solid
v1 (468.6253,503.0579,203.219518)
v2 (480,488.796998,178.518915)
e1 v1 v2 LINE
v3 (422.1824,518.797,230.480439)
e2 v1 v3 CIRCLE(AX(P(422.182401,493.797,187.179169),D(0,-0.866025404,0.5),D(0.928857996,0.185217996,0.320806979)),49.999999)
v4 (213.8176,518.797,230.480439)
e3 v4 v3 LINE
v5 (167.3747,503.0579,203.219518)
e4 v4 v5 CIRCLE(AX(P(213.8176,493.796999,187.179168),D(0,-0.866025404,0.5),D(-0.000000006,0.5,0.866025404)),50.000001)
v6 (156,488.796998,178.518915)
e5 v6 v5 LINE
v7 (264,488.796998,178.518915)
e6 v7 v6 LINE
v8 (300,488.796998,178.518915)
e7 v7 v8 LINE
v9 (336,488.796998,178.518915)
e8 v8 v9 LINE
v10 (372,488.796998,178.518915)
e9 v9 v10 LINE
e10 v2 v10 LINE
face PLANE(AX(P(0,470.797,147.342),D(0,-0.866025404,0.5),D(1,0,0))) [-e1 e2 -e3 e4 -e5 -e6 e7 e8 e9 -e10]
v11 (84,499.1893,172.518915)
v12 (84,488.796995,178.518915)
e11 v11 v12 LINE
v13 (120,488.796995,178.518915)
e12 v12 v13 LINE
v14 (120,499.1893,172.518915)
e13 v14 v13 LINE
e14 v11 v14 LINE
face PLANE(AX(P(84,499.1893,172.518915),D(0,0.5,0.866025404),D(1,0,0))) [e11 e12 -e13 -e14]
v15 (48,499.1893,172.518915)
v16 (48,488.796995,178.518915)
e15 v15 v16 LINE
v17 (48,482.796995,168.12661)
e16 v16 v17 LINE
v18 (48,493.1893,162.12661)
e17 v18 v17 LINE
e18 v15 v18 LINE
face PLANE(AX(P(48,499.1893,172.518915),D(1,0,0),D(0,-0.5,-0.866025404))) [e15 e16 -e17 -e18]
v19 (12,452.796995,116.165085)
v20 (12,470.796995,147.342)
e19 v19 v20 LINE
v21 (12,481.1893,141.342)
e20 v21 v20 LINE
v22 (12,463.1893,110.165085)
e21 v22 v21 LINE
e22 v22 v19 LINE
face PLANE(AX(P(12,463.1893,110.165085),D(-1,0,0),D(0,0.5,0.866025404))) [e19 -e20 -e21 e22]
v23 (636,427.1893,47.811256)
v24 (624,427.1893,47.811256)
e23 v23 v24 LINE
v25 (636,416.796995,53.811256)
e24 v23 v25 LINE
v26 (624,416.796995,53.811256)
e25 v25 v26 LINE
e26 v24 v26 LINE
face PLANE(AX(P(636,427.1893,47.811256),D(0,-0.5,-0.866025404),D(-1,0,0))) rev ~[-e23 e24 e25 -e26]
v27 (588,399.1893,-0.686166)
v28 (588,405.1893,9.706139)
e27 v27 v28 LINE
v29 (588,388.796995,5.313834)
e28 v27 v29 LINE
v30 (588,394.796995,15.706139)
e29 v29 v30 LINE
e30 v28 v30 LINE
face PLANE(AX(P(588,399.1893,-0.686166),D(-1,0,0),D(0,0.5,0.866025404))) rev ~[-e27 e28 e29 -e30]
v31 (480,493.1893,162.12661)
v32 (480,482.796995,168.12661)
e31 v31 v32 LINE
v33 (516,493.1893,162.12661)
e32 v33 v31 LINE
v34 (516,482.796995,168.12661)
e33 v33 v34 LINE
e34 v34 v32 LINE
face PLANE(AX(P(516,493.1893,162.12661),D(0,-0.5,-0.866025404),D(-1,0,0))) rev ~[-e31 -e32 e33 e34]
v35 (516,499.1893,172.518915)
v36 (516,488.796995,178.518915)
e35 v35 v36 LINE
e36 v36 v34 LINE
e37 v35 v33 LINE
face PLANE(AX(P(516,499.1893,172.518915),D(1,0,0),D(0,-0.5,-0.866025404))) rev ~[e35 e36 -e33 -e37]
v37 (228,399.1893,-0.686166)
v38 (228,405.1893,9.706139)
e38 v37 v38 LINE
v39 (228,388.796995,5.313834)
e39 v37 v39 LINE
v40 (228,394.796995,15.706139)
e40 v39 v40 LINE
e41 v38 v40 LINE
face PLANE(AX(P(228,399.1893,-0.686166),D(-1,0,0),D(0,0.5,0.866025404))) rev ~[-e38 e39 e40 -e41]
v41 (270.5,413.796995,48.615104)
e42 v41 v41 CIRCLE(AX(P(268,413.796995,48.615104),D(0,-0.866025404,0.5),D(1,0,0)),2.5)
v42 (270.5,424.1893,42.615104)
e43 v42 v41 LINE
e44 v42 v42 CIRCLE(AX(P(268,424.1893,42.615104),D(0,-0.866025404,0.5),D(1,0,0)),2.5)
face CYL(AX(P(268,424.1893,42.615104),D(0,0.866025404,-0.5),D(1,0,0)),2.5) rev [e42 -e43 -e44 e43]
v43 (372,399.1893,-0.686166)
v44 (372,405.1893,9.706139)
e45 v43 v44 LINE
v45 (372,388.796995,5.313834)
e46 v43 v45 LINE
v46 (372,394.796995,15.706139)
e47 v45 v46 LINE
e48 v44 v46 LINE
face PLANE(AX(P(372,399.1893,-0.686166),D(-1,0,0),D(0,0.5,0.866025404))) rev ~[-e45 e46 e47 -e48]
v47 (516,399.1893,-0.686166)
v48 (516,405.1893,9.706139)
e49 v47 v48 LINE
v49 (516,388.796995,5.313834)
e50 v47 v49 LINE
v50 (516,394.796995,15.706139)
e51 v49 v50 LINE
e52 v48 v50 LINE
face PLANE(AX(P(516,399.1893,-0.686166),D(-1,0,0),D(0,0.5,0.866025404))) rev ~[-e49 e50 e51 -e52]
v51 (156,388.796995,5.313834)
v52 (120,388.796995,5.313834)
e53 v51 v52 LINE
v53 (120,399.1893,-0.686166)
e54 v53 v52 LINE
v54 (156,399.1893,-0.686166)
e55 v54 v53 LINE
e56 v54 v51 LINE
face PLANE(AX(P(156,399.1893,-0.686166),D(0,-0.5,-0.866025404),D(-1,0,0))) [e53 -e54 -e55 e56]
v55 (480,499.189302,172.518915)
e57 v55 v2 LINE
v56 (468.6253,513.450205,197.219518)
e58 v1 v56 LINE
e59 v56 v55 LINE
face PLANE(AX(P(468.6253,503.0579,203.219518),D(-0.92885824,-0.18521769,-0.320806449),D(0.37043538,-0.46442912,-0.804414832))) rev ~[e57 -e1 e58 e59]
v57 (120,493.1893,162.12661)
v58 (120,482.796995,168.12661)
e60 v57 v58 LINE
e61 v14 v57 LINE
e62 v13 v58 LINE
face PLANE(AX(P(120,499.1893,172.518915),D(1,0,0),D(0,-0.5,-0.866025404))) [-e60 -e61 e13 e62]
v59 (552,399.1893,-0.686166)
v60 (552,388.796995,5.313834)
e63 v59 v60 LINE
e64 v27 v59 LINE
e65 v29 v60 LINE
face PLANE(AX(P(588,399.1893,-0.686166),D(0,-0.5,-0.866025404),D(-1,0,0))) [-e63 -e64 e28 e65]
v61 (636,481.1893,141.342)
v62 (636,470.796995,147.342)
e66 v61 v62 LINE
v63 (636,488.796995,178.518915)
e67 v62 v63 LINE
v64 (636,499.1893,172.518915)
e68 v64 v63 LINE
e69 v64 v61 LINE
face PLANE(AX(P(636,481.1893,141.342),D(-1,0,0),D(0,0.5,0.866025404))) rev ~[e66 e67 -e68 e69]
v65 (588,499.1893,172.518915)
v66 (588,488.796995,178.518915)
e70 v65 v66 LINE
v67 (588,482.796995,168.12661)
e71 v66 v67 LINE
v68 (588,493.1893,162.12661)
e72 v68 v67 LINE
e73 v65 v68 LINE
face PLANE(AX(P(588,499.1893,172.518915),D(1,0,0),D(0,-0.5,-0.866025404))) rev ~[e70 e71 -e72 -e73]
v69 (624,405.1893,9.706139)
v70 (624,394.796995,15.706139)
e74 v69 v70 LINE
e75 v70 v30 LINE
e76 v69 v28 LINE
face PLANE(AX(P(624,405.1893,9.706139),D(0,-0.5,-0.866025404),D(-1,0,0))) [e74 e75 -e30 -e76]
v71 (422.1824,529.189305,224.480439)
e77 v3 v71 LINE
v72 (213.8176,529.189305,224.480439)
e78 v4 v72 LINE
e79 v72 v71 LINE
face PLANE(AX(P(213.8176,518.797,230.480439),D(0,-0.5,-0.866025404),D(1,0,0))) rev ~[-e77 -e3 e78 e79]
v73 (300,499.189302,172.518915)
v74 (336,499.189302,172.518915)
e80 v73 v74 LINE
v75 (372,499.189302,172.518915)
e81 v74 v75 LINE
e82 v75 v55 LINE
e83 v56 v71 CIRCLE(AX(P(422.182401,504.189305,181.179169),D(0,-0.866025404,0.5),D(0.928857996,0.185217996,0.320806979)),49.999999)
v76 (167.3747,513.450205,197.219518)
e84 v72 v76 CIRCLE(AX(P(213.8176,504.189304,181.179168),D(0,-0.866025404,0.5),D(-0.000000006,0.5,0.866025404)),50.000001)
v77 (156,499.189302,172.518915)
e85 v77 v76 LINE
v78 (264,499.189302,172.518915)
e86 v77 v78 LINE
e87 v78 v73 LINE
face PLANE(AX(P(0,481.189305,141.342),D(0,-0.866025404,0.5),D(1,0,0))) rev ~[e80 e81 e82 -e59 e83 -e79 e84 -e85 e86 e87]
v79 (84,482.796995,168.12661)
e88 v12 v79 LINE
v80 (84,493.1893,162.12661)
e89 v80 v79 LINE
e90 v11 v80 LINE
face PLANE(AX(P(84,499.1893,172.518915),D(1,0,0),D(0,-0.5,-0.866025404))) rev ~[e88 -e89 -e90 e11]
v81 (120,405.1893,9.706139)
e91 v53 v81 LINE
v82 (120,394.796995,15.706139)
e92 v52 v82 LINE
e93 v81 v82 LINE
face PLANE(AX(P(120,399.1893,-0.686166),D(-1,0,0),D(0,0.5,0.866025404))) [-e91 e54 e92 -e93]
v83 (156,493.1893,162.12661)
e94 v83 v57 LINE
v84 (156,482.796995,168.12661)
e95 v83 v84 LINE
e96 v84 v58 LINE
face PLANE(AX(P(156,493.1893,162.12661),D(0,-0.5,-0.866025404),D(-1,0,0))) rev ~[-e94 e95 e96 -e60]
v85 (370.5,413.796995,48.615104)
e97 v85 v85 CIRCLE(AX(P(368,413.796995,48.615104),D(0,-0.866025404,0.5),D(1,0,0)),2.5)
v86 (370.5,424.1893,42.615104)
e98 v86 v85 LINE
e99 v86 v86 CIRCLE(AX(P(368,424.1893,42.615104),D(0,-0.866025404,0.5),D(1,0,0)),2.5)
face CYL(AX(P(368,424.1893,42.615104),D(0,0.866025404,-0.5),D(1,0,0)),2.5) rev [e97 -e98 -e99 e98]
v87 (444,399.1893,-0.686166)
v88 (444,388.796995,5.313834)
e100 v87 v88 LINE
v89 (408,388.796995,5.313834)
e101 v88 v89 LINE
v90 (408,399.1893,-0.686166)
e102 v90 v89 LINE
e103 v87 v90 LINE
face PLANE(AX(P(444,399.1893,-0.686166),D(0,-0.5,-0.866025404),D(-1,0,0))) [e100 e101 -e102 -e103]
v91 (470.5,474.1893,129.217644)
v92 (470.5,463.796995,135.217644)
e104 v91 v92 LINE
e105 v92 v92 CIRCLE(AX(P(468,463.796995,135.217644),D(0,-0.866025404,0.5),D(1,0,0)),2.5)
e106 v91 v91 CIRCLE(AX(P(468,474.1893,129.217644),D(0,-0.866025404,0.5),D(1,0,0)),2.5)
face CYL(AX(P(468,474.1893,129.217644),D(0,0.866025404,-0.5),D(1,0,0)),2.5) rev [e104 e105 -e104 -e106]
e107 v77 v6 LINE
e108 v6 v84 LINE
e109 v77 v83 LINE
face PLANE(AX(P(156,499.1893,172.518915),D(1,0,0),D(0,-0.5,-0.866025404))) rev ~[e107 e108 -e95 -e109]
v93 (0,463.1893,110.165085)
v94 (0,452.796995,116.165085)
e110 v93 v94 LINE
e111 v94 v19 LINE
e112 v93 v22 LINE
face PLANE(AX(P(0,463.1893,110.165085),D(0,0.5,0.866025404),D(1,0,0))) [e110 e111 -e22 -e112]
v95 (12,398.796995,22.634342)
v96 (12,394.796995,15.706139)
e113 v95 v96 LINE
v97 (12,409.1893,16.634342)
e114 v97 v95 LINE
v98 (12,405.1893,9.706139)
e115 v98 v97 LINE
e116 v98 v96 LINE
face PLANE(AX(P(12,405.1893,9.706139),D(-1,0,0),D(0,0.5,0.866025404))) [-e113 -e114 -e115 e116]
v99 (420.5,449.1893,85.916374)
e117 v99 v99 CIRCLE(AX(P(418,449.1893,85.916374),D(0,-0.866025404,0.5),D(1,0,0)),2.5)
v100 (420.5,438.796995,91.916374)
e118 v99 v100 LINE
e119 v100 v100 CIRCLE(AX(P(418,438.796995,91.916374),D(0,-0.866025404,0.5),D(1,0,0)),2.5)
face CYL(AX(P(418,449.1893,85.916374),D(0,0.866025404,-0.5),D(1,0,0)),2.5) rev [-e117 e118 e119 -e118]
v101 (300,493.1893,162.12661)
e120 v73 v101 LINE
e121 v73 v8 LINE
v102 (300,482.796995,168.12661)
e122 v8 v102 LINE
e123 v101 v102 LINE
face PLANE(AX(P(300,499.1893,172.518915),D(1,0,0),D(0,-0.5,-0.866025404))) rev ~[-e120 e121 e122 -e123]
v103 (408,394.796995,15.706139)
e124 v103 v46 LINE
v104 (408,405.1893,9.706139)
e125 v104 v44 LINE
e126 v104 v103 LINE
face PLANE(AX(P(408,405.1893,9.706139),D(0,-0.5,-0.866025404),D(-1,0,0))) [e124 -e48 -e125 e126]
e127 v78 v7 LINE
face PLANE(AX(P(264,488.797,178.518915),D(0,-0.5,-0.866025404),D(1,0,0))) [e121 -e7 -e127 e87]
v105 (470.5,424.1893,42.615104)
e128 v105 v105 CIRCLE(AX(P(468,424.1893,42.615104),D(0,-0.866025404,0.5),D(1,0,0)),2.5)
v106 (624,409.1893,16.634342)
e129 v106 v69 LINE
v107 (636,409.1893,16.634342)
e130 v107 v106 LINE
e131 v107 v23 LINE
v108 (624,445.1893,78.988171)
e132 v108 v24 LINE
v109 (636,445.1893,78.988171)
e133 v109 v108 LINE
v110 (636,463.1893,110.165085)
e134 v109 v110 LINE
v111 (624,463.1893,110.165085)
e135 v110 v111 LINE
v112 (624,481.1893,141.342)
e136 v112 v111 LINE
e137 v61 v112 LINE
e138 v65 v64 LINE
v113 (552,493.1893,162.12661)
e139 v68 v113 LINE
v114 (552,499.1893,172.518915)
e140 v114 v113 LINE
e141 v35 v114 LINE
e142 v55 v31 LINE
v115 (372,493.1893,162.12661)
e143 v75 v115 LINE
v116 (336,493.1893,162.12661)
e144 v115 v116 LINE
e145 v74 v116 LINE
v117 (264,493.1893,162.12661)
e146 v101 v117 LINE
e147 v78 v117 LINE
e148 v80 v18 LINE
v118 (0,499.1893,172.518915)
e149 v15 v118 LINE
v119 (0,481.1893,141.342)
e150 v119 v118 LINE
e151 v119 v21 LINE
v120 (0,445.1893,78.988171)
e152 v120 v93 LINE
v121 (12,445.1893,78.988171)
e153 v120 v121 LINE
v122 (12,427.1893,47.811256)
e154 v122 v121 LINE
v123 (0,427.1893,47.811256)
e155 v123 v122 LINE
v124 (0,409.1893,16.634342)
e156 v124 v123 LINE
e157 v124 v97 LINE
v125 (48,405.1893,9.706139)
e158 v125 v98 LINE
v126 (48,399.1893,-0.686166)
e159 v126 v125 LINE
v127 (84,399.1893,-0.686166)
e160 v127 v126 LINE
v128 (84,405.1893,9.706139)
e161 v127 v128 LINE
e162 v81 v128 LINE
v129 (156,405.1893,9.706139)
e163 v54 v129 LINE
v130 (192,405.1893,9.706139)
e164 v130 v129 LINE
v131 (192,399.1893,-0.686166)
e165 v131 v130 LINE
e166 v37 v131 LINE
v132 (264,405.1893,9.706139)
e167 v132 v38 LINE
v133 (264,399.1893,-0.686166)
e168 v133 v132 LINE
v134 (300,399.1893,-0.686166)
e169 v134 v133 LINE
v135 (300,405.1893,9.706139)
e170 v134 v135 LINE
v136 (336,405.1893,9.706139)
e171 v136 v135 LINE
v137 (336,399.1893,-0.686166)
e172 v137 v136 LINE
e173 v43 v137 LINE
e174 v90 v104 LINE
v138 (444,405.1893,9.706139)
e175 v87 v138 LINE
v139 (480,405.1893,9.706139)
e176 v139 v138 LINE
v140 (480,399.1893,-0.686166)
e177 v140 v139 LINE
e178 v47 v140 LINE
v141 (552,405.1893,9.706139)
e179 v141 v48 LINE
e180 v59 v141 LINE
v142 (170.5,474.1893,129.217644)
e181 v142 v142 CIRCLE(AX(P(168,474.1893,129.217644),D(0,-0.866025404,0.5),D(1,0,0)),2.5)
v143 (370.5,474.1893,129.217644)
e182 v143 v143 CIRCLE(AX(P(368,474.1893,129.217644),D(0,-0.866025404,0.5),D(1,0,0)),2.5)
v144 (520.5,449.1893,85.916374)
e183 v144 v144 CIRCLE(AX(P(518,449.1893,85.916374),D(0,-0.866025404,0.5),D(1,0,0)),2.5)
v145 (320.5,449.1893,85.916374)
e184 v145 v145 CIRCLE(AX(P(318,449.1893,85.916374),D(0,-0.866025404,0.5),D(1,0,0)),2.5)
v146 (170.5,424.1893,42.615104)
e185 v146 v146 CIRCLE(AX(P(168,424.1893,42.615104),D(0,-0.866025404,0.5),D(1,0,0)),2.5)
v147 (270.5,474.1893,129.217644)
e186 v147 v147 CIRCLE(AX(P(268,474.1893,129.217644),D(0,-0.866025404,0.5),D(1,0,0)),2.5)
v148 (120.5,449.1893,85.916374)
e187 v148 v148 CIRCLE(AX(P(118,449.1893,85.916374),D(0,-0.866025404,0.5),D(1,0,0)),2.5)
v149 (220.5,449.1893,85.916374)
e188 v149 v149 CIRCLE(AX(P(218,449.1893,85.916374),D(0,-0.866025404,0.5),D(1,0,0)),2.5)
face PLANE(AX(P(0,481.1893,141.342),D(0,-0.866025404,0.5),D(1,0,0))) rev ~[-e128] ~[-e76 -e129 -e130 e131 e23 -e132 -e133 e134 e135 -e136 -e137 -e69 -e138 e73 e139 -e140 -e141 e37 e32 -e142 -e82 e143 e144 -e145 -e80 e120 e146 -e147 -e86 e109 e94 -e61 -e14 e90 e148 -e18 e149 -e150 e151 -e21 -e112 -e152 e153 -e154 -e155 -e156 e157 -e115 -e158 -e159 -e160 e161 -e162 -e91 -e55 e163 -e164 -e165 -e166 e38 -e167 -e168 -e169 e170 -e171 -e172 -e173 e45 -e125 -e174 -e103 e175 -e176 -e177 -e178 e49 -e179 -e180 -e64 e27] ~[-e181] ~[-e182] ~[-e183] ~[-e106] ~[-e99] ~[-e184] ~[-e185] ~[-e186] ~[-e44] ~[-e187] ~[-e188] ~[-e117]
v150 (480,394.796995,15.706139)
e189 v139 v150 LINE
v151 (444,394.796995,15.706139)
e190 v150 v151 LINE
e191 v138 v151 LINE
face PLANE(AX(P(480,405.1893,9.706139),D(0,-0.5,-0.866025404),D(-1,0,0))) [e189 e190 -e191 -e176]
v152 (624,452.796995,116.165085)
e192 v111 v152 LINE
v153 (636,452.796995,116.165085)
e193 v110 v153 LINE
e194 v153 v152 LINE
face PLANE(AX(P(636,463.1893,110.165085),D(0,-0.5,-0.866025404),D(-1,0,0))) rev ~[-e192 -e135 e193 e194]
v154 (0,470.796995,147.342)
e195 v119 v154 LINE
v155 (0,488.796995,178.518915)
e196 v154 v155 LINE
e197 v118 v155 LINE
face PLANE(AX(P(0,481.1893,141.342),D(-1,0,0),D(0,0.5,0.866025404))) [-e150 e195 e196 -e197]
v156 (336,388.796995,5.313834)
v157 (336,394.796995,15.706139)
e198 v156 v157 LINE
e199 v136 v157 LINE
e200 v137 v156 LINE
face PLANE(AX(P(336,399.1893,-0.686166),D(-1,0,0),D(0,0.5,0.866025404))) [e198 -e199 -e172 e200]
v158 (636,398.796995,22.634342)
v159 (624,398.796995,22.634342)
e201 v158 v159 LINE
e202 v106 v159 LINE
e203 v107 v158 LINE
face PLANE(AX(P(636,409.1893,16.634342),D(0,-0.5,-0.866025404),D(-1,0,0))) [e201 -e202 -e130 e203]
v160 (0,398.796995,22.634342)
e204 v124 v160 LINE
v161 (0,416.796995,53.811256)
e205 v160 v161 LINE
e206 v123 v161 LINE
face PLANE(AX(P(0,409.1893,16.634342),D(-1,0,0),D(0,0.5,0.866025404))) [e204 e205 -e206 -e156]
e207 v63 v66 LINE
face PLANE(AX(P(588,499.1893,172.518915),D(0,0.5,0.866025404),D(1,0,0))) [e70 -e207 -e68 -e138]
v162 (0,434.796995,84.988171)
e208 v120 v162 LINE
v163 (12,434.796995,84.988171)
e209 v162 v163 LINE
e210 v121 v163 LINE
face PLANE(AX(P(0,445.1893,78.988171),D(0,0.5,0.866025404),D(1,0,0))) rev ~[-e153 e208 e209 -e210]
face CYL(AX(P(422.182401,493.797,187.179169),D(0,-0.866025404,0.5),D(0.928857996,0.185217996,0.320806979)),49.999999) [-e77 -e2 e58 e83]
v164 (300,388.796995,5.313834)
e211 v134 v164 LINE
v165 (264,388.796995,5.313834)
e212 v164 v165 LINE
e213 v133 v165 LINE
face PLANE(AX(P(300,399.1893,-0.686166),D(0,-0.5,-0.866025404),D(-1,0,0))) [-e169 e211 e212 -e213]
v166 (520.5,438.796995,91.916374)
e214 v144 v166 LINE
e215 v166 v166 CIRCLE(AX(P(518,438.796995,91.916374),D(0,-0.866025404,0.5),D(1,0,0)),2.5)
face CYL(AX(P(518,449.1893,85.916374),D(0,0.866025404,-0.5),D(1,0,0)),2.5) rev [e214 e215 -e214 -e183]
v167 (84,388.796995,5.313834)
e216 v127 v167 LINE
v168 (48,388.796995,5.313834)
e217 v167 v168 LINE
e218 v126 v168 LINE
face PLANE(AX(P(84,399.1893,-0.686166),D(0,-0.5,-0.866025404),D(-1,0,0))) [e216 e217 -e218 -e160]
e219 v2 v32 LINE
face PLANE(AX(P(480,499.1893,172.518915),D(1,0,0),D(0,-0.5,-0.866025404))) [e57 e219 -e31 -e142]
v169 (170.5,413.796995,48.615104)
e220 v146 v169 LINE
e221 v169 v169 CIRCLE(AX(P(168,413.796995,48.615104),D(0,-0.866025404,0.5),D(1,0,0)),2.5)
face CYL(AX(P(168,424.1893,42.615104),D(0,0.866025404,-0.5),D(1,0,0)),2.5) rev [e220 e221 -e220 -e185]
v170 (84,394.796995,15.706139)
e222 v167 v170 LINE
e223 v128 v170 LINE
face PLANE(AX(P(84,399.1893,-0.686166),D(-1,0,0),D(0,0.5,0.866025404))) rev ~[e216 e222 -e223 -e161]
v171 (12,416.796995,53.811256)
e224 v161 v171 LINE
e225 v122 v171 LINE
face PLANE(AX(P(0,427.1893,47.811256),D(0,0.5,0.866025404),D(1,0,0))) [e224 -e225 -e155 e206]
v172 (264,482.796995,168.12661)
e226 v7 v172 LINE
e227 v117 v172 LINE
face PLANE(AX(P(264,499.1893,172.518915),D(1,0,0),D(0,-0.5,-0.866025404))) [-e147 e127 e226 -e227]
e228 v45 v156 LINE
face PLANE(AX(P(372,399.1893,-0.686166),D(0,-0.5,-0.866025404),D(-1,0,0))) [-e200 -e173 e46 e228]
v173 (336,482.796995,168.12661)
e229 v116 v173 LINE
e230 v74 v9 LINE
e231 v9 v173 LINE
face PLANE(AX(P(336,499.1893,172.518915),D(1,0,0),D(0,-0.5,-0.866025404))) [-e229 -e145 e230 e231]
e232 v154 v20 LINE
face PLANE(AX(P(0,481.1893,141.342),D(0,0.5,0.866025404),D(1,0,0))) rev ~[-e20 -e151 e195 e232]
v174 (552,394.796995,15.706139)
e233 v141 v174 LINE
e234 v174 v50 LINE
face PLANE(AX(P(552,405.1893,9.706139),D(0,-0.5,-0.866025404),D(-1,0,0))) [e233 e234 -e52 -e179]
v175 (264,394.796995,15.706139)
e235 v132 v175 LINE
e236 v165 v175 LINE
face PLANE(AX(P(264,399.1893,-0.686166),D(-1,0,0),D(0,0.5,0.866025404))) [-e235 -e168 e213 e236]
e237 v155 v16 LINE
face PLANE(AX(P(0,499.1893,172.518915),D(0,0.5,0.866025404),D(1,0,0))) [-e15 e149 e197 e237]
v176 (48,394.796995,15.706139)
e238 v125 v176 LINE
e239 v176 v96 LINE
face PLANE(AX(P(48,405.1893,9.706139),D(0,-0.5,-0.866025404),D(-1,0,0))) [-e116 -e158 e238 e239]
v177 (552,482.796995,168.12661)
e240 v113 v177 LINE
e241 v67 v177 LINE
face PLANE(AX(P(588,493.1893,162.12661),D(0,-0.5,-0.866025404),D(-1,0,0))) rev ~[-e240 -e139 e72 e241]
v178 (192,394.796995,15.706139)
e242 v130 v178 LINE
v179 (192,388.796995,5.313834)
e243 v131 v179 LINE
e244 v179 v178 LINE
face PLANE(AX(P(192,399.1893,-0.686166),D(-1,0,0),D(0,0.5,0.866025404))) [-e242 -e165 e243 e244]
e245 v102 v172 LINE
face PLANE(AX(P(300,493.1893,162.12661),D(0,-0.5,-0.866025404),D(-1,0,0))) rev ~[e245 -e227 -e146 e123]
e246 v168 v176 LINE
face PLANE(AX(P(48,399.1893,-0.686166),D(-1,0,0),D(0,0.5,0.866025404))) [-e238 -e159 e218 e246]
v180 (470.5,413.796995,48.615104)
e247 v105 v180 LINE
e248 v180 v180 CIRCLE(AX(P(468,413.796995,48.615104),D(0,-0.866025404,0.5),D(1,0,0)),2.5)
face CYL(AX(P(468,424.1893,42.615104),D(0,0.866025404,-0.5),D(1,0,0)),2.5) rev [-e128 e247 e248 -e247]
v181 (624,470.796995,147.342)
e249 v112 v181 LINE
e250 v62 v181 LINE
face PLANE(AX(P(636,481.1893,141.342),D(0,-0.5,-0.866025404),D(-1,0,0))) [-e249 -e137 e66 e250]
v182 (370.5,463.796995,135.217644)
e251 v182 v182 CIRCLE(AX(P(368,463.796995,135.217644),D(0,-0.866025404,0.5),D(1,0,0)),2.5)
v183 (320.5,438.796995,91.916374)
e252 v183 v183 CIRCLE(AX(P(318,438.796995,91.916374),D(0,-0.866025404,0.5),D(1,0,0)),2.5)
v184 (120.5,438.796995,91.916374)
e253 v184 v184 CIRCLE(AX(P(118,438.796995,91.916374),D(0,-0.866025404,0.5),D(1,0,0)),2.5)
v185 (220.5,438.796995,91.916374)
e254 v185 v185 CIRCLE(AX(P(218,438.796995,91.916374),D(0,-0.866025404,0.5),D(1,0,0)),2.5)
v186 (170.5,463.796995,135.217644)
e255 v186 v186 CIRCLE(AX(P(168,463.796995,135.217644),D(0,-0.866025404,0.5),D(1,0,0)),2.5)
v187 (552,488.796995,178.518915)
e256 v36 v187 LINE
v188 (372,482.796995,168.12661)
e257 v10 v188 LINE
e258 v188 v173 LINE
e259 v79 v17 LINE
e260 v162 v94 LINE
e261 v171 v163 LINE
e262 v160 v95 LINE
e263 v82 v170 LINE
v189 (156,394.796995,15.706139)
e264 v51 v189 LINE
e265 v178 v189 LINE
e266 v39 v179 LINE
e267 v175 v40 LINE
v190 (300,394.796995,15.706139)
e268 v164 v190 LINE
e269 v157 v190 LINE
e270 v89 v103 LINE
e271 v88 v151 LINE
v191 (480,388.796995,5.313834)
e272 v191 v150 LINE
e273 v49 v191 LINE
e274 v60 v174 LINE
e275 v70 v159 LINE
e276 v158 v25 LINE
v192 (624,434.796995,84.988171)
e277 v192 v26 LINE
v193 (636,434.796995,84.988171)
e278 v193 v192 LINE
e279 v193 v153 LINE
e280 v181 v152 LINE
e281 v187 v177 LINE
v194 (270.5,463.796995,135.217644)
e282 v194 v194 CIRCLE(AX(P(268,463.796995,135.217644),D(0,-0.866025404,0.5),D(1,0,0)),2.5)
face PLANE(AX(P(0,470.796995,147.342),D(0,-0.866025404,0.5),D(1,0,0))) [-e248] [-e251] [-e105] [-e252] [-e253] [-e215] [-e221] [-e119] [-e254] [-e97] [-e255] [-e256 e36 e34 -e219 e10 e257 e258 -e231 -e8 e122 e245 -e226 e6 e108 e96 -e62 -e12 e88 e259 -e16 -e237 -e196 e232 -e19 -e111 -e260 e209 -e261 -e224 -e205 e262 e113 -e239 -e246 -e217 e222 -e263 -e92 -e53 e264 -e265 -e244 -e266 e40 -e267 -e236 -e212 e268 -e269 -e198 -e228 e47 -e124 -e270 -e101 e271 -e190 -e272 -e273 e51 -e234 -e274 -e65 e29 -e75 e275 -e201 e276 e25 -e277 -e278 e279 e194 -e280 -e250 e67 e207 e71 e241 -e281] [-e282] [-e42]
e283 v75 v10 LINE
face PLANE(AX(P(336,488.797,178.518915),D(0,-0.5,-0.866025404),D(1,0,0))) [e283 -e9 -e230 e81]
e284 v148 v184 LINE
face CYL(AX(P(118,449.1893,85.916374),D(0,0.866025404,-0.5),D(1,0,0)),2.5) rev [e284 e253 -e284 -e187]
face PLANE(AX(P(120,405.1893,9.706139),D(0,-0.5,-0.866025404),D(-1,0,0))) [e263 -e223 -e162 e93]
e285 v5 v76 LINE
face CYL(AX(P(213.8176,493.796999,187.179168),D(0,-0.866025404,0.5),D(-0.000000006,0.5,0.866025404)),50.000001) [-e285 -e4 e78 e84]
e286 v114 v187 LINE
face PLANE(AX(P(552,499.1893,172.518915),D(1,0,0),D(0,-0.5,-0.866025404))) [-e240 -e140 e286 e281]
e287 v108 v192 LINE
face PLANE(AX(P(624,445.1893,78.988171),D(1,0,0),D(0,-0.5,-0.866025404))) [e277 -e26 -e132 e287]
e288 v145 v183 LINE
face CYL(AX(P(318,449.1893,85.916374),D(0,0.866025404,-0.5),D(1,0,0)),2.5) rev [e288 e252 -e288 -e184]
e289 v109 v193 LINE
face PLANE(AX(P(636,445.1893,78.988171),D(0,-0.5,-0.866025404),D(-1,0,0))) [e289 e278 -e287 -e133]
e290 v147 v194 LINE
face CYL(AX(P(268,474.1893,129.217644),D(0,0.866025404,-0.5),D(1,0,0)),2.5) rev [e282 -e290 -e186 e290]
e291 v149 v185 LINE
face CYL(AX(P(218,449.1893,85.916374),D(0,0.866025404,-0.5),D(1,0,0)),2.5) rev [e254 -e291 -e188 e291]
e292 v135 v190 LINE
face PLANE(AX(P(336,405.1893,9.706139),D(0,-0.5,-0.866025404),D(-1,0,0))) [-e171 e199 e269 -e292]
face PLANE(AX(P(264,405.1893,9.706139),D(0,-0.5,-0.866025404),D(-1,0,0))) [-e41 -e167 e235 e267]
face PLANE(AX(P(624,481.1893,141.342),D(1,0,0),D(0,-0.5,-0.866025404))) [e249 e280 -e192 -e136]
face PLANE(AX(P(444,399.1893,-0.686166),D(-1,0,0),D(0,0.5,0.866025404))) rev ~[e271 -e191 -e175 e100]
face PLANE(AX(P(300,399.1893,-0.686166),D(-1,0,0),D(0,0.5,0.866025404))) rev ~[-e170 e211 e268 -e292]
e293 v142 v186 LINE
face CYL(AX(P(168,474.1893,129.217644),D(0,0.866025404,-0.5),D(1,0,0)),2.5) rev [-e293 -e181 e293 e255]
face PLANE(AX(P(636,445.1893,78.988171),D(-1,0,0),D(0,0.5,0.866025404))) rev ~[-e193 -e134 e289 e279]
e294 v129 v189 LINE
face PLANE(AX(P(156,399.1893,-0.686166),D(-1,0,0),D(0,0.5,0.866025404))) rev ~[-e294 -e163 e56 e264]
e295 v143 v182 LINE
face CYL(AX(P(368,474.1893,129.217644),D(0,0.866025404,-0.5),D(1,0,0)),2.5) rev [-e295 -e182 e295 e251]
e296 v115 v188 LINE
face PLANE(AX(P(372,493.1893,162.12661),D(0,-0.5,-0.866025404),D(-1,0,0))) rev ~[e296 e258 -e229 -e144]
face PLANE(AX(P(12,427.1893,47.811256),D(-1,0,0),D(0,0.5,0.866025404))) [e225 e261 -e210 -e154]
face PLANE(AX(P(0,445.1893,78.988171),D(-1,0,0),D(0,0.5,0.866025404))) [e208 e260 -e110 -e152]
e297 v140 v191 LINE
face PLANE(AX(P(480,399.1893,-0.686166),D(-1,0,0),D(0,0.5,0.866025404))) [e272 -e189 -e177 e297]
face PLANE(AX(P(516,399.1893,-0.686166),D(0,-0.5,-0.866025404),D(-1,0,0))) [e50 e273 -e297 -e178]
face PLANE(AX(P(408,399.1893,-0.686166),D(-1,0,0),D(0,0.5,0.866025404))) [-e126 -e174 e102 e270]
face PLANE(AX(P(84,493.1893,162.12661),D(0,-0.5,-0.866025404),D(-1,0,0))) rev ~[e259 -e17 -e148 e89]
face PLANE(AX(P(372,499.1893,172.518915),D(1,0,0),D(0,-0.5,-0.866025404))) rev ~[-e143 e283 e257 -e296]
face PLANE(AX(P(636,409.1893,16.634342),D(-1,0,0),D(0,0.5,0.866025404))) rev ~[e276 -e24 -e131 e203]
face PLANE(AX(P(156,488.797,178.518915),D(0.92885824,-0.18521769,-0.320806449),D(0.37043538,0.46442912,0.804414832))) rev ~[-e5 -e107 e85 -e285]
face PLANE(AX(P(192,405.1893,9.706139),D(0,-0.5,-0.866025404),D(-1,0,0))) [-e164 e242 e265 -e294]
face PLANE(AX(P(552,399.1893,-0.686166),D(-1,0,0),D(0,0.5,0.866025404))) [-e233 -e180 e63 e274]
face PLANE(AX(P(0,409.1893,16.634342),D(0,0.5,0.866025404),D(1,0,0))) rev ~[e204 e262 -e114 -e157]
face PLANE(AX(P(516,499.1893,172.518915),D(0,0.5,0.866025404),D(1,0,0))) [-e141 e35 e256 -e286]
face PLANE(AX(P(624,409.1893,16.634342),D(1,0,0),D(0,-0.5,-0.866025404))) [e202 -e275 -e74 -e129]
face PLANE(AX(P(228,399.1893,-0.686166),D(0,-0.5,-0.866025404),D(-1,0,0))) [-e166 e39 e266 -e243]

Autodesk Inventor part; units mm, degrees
ref_plane "YZ Plane" through (0, 0, 0) normal (1, 0, 0) x (0, 1, 0)
ref_plane "XZ Plane" through (0, 0, 0) normal (0, 1, 0) x (-1, 0, 0)
ref_plane "XY Plane" through (0, 0, 0) normal (0, 0, 1) x (1, 0, 0)
ref_plane "Work Plane2" through (0, 481.1893, 141.342) normal (0, -0.866, 0.5) x (1, 0, 0)
sketch "Sketch2" plane through (0, 481.1893, 141.342) normal (0, -0.866, 0.5) x (1, 0, 0)
  line L0 (0, 0) -> (0, 36) projected
  line L1 (0, 0) -> (12, 0) projected
  line L2 (12, 36) -> (12, 0) projected
  line L3 (0, 36) -> (12, 36) projected
  line L4 (0, -72) -> (0, -36) projected
  line L5 (0, -72) -> (12, -72) projected
  line L6 (12, -36) -> (12, -72) projected
  line L7 (0, -36) -> (12, -36) projected
  line L8 (0, -144) -> (0, -108) projected
  line L9 (0, -144) -> (12, -144) projected
  line L10 (12, -108) -> (12, -144) projected
  line L11 (0, -108) -> (12, -108) projected
  line L12 (48, -147.6081) -> (12, -147.6081) projected
  line L13 (12, 36) -> (624, 36)
  line L14 (624, 36) -> (624, -164)
  line L15 (624, -164) -> (12, -164)
  line L16 (12, -164) -> (12, 36)
  line L17 (318, -164) -> (318, 36) construction
  line L18 (636, 0) -> (636, 36)
  line L19 (636, 0) -> (624, 0)
  line L20 (624, 36) -> (624, 0)
  line L21 (636, 36) -> (624, 36)
  line L22 (636, -72) -> (636, -36)
  line L23 (636, -72) -> (624, -72)
  line L24 (624, -36) -> (624, -72)
  line L25 (636, -36) -> (624, -36)
  line L26 (636, -144) -> (636, -108)
  line L27 (636, -144) -> (624, -144)
  line L28 (624, -108) -> (624, -144)
  line L29 (636, -108) -> (624, -108)
  line L30 (588, -147.6081) -> (624, -147.6081)
  line L31 (624, -164) -> (624, 36)
  line L32 (12, 36) -> (48, 36)
  line L33 (48, 36) -> (48, 24)
  line L34 (48, 24) -> (12, 24)
  line L35 (12, 24) -> (12, 36)
  line L36 (84, 24) -> (48, 24)
  line L37 (84, 36) -> (84, 24)
  line L38 (48, 36) -> (84, 36)
  line L39 (48, 24) -> (48, 36)
  line L40 (120, 24) -> (84, 24)
  line L41 (120, 36) -> (120, 24)
  line L42 (84, 36) -> (120, 36)
  line L43 (84, 24) -> (84, 36)
  line L44 (156, 24) -> (120, 24)
  line L45 (156, 36) -> (156, 24)
  line L46 (120, 36) -> (156, 36)
  line L47 (120, 24) -> (120, 36)
  line L48 (192, 24) -> (156, 24)
  line L49 (192, 36) -> (192, 24)
  line L50 (156, 36) -> (192, 36)
  line L51 (156, 24) -> (156, 36)
  line L52 (228, 24) -> (192, 24)
  line L53 (228, 36) -> (228, 24)
  line L54 (192, 36) -> (228, 36)
  line L55 (192, 24) -> (192, 36)
  line L56 (264, 24) -> (228, 24)
  line L57 (264, 36) -> (264, 24)
  line L58 (228, 36) -> (264, 36)
  line L59 (228, 24) -> (228, 36)
  line L60 (300, 24) -> (264, 24)
  line L61 (300, 36) -> (300, 24)
  line L62 (264, 36) -> (300, 36)
  line L63 (264, 24) -> (264, 36)
  line L64 (336, 24) -> (300, 24)
  line L65 (336, 36) -> (336, 24)
  line L66 (300, 36) -> (336, 36)
  line L67 (300, 24) -> (300, 36)
  line L68 (372, 24) -> (336, 24)
  line L69 (372, 36) -> (372, 24)
  line L70 (336, 36) -> (372, 36)
  line L71 (336, 24) -> (336, 36)
  line L72 (408, 24) -> (372, 24)
  line L73 (408, 36) -> (408, 24)
  line L74 (372, 36) -> (408, 36)
  line L75 (372, 24) -> (372, 36)
  line L76 (444, 24) -> (408, 24)
  line L77 (444, 36) -> (444, 24)
  line L78 (408, 36) -> (444, 36)
  line L79 (408, 24) -> (408, 36)
  line L80 (480, 24) -> (444, 24)
  line L81 (480, 36) -> (480, 24)
  line L82 (444, 36) -> (480, 36)
  line L83 (444, 24) -> (444, 36)
  line L84 (516, 24) -> (480, 24)
  line L85 (516, 36) -> (516, 24)
  line L86 (480, 36) -> (516, 36)
  line L87 (480, 24) -> (480, 36)
  line L88 (552, 24) -> (516, 24)
  line L89 (552, 36) -> (552, 24)
  line L90 (516, 36) -> (552, 36)
  line L91 (516, 24) -> (516, 36)
  line L92 (588, 24) -> (552, 24)
  line L93 (588, 36) -> (588, 24)
  line L94 (552, 36) -> (588, 36)
  line L95 (552, 24) -> (552, 36)
  line L96 (624, 24) -> (588, 24)
  line L97 (624, 36) -> (624, 24)
  line L98 (588, 36) -> (624, 36)
  line L99 (588, 24) -> (588, 36)
  line L100 (660, 24) -> (624, 24)
  line L101 (660, 36) -> (660, 24)
  line L102 (624, 36) -> (660, 36)
  line L103 (624, 24) -> (624, 36)
  line L104 (696, 24) -> (660, 24)
  line L105 (696, 36) -> (696, 24)
  line L106 (660, 36) -> (696, 36)
  line L107 (660, 24) -> (660, 36)
  line L108 (732, 24) -> (696, 24)
  line L109 (732, 36) -> (732, 24)
  line L110 (696, 36) -> (732, 36)
  line L111 (696, 24) -> (696, 36)
  line L112 (12, -64) -> (624, -64) construction
  line L113 (12, -164) -> (12, -128)
  line L114 (12, -164) -> (624, -164)
  line L115 (12, -164) -> (48, -164)
  line L116 (48, -164) -> (48, -152)
  line L117 (48, -152) -> (12, -152)
  line L118 (12, -152) -> (12, -164)
  line L119 (84, -152) -> (48, -152)
  line L120 (84, -164) -> (84, -152)
  line L121 (48, -164) -> (84, -164)
  line L122 (48, -152) -> (48, -164)
  line L123 (120, -152) -> (84, -152)
  line L124 (120, -164) -> (120, -152)
  line L125 (84, -164) -> (120, -164)
  line L126 (84, -152) -> (84, -164)
  line L127 (156, -152) -> (120, -152)
  line L128 (156, -164) -> (156, -152)
  line L129 (120, -164) -> (156, -164)
  line L130 (120, -152) -> (120, -164)
  line L131 (192, -152) -> (156, -152)
  line L132 (192, -164) -> (192, -152)
  line L133 (156, -164) -> (192, -164)
  line L134 (156, -152) -> (156, -164)
  line L135 (228, -152) -> (192, -152)
  line L136 (228, -164) -> (228, -152)
  line L137 (192, -164) -> (228, -164)
  line L138 (192, -152) -> (192, -164)
  line L139 (264, -152) -> (228, -152)
  line L140 (264, -164) -> (264, -152)
  line L141 (228, -164) -> (264, -164)
  line L142 (228, -152) -> (228, -164)
  line L143 (300, -152) -> (264, -152)
  line L144 (300, -164) -> (300, -152)
  line L145 (264, -164) -> (300, -164)
  line L146 (264, -152) -> (264, -164)
  line L147 (336, -152) -> (300, -152)
  line L148 (336, -164) -> (336, -152)
  line L149 (300, -164) -> (336, -164)
  line L150 (300, -152) -> (300, -164)
  line L151 (372, -152) -> (336, -152)
  line L152 (372, -164) -> (372, -152)
  line L153 (336, -164) -> (372, -164)
  line L154 (336, -152) -> (336, -164)
  line L155 (408, -152) -> (372, -152)
  line L156 (408, -164) -> (408, -152)
  line L157 (372, -164) -> (408, -164)
  line L158 (372, -152) -> (372, -164)
  line L159 (444, -152) -> (408, -152)
  line L160 (444, -164) -> (444, -152)
  line L161 (408, -164) -> (444, -164)
  line L162 (408, -152) -> (408, -164)
  line L163 (480, -152) -> (444, -152)
  line L164 (480, -164) -> (480, -152)
  line L165 (444, -164) -> (480, -164)
  line L166 (444, -152) -> (444, -164)
  line L167 (516, -152) -> (480, -152)
  line L168 (516, -164) -> (516, -152)
  line L169 (480, -164) -> (516, -164)
  line L170 (480, -152) -> (480, -164)
  line L171 (552, -152) -> (516, -152)
  line L172 (552, -164) -> (552, -152)
  line L173 (516, -164) -> (552, -164)
  line L174 (516, -152) -> (516, -164)
  line L175 (588, -152) -> (552, -152)
  line L176 (588, -164) -> (588, -152)
  line L177 (552, -164) -> (588, -164)
  line L178 (552, -152) -> (552, -164)
  line L179 (624, -152) -> (588, -152)
  line L180 (624, -164) -> (624, -152)
  line L181 (588, -164) -> (624, -164)
  line L182 (588, -152) -> (588, -164)
  line L183 (624, -152) -> (624, -164)
  circle A0 centre (318, -64) radius 2.5
  circle A1 centre (218, -64) radius 2.5
  circle A2 centre (118, -64) radius 2.5
  line L184 (624, -64) -> (12, -64) construction
  circle A3 centre (318, -64) radius 2.5
  circle A4 centre (418, -64) radius 2.5
  circle A5 centre (518, -64) radius 2.5
  circle A6 centre (168, -14) radius 2.5
  circle A7 centre (268, -14) radius 2.5
  circle A8 centre (468, -14) radius 2.5
  circle A9 centre (368, -14) radius 2.5
  line L185 (318, 36) -> (318, -164) construction
  circle A10 centre (168, -114) radius 2.5
  circle A11 centre (268, -114) radius 2.5
  circle A12 centre (468, -114) radius 2.5
  circle A13 centre (368, -114) radius 2.5
  point P0 (0, -363.0004)
  point P1 (48, 24)
  point P2 (12, 0)
  point P3 (12, -72)
  point P4 (12, -108)
  point P5 (12, -144)
  point P6 (12, -152)
  point P7 (48, -164)
  point P8 (84, -164)
  point P9 (84, -152)
  point P10 (120, -164)
  point P11 (156, -164)
  point P12 (156, -152)
  point P13 (192, -164)
  point P14 (228, -164)
  point P15 (228, -152)
  point P16 (264, -164)
  point P17 (300, -164)
  point P18 (300, -152)
  point P19 (336, -164)
  point P20 (372, -164)
  point P21 (372, -152)
  point P22 (408, -164)
  point P23 (444, -164)
  point P24 (444, -152)
  point P25 (480, -164)
  point P26 (516, -164)
  point P27 (516, -152)
  point P28 (552, -164)
  point P29 (588, -164)
  point P30 (624, -144)
  point P31 (624, -108)
  point P32 (624, -72)
  point P33 (624, -36)
  point P34 (624, 0)
  point P35 (552, 24)
  point P36 (552, 36)
  point P37 (516, 36)
  point P38 (480, 24)
  point P39 (480, 36)
  point P40 (444, 36)
  point P41 (408, 36)
  point P42 (372, 36)
  point P43 (336, 24)
  point P44 (336, 36)
  point P45 (300, 36)
  point P46 (264, 24)
  point P47 (264, 36)
  point P48 (228, 36)
  point P49 (192, 24)
  point P50 (192, 36)
  point P51 (156, 36)
  point P52 (120, 24)
  point P53 (120, 36)
  point P54 (84, 36)
  dimension "d4" = 612
  dimension "d5" = 200
  dimension "d6" = 12
  dimension "d7" = 36
  dimension "d10" = 36
  dimension "d21" = 5
  dimension "d24" = 100
  dimension "d29" = 5
  dimension "d30" = 5
  dimension "d31" = 100
  dimension "d32" = 50
  dimension "d33" = 50
extrude "Extrusion2" add sketch "Sketch2" along normal blind 12 contours L0 L3 L2 L1 | L2 L34 L36 L40 L44 L48 L52 L56 L60 L64 L68 L72 L76 L80 L84 L88 L92 L96 L14 L179 L175 L171 L167 L163 L159 L155 L151 L147 L143 L139 L135 L131 L127 L123 L119 L117 L16 L10 L6 | L13 L33 L34 L2 | L6 L5 L4 L7 | L13 L41 L40 L37 | L10 L9 L8 L11 | L13 L49 L48 L45 | L13 L53 L52 L49 | L13 L57 L56 L53 | L119 L120 L15 L116 | L13 L65 L64 L61 | L127 L128 L15 L124 | L13 L73 L72 L69 | L13 L77 L76 L73 | L135 L136 L15 L132 | L13 L81 L80 L77 | L143 L144 L15 L140 | L13 L89 L88 L85 | L151 L152 L15 L148 | L13 L14 L96 L93 | L21 L18 L100 L14 | L100 L18 L19 L14 | L159 L160 L15 L156 | L25 L22 L23 L14 | L167 L168 L15 L164 | L29 L26 L27 L14 | L175 L176 L15 L172
sketch "Sketch3" plane through (0, 470.797, 147.342) normal (0, -0.866, 0.5) x (1, 0, 0)
  line L0 (588, -164) -> (588, -152) projected
  line L1 (588, -152) -> (624, -152) projected
  line L2 (624, -152) -> (624, -144) projected
  line L3 (624, -144) -> (636, -144) projected
  line L4 (636, -144) -> (636, -108) projected
  line L5 (636, -108) -> (624, -108) projected
  line L6 (624, -108) -> (624, -72) projected
  line L7 (624, -72) -> (636, -72) projected
  line L8 (636, -72) -> (636, -36) projected
  line L9 (636, -36) -> (624, -36) projected
  line L10 (624, -36) -> (624, 0) projected
  line L11 (624, 0) -> (636, 0) projected
  line L12 (636, 0) -> (636, 36) projected
  line L13 (636, 36) -> (588, 36) projected
  line L14 (588, 36) -> (588, 24) projected
  line L15 (588, 24) -> (552, 24) projected
  line L16 (552, 24) -> (552, 36) projected
  line L17 (552, 36) -> (516, 36) projected
  line L18 (516, 36) -> (516, 24) projected
  line L19 (516, 24) -> (480, 24) projected
  line L20 (480, 24) -> (480, 36) projected
  line L21 (264, 36) -> (156, 36) projected
  line L22 (480, 36) -> (372, 36) projected
  line L23 (372, 36) -> (372, 24) projected
  line L24 (372, 24) -> (336, 24) projected
  line L25 (336, 24) -> (336, 36) projected
  line L26 (336, 36) -> (300, 36) projected
  line L27 (300, 36) -> (300, 24) projected
  line L28 (300, 24) -> (264, 24) projected
  line L29 (264, 24) -> (264, 36) projected
  line L30 (156, 36) -> (156, 24) projected
  line L31 (156, 24) -> (120, 24) projected
  line L32 (120, 24) -> (120, 36) projected
  line L33 (120, 36) -> (84, 36) projected
  line L34 (84, 36) -> (84, 24) projected
  line L35 (84, 24) -> (48, 24) projected
  line L36 (48, 24) -> (48, 36) projected
  line L37 (48, 36) -> (0, 36) projected
  line L38 (0, 36) -> (0, 0) projected
  line L39 (0, 0) -> (12, 0) projected
  line L40 (12, 0) -> (12, -36) projected
  line L41 (12, -36) -> (0, -36) projected
  line L42 (0, -36) -> (0, -72) projected
  line L43 (0, -72) -> (12, -72) projected
  line L44 (12, -72) -> (12, -108) projected
  line L45 (12, -108) -> (0, -108) projected
  line L46 (0, -108) -> (0, -144) projected
  line L47 (0, -144) -> (12, -144) projected
  line L48 (12, -144) -> (12, -152) projected
  line L49 (12, -152) -> (48, -152) projected
  line L50 (48, -152) -> (48, -164) projected
  line L51 (48, -164) -> (84, -164) projected
  line L52 (84, -164) -> (84, -152) projected
  line L53 (84, -152) -> (120, -152) projected
  line L54 (120, -152) -> (120, -164) projected
  line L55 (120, -164) -> (156, -164) projected
  line L56 (156, -164) -> (156, -152) projected
  line L57 (156, -152) -> (192, -152) projected
  line L58 (192, -152) -> (192, -164) projected
  line L59 (192, -164) -> (228, -164) projected
  line L60 (228, -164) -> (228, -152) projected
  line L61 (228, -152) -> (264, -152) projected
  line L62 (264, -152) -> (264, -164) projected
  line L63 (264, -164) -> (300, -164) projected
  line L64 (300, -164) -> (300, -152) projected
  line L65 (300, -152) -> (336, -152) projected
  line L66 (336, -152) -> (336, -164) projected
  line L67 (336, -164) -> (372, -164) projected
  line L68 (372, -164) -> (372, -152) projected
  line L69 (372, -152) -> (408, -152) projected
  line L70 (408, -152) -> (408, -164) projected
  line L71 (408, -164) -> (444, -164) projected
  line L72 (444, -164) -> (444, -152) projected
  line L73 (444, -152) -> (480, -152) projected
  line L74 (480, -152) -> (480, -164) projected
  line L75 (480, -164) -> (516, -164) projected
  line L76 (516, -164) -> (516, -152) projected
  line L77 (516, -152) -> (552, -152) projected
  line L78 (552, -152) -> (552, -164) projected
  line L79 (552, -164) -> (588, -164) projected
  line L80 (156, 36) -> (167.3747, 64.5218)
  line L81 (213.8176, 96) -> (422.1824, 96)
  line L82 (468.6253, 64.5218) -> (480, 36)
  arc A0 (213.8176, 96) -> (167.3747, 64.5218) centre (213.8176, 46) ccw
  arc A1 (468.6253, 64.5218) -> (422.1824, 96) centre (422.1824, 46) ccw
  line L83 (336, 36) -> (300, 36) projected
  line L84 (156, 36) -> (480, 36)
  point P0 (0, -363.0004)
  point P1 (300, 36)
  dimension "d17" = 50
  dimension "d20" = 60
extrude "Extrusion3" add sketch "Sketch3" against normal blind 12 contours L22 L84 L26 L21 L80 A0 L81 A1 L82
sketch "Sketch5" plane through (0, 481.1893, 141.342) normal (0, 0.866, -0.5) x (1, 0, 0)
  line L0 (264, -24) -> (264, -36) projected
  line L1 (300, -24) -> (264, -24) projected
  line L2 (300, -36) -> (300, -24) projected
  line L3 (300, -36) -> (264, -36) projected
  line L4 (336, -24) -> (336, -36) projected
  line L5 (372, -24) -> (336, -24) projected
  line L6 (372, -36) -> (372, -24) projected
  line L7 (372, -36) -> (336, -36) projected
  line L8 (156, -36) -> (167.3747, -64.5218) projected
  arc A0 (167.3747, -64.5218) -> (213.8176, -96) centre (213.8176, -46) ccw projected
  line L9 (213.8176, -96) -> (422.1824, -96) projected
  arc A1 (422.1824, -96) -> (468.6253, -64.5218) centre (422.1824, -46) ccw projected
  line L10 (468.6253, -64.5218) -> (480, -36) projected
  line L11 (480, -24) -> (480, -36) projected
  line L12 (516, -24) -> (480, -24) projected
  line L13 (516, -36) -> (516, -24) projected
  line L14 (552, -36) -> (516, -36) projected
  line L15 (552, -24) -> (552, -36) projected
  line L16 (588, -24) -> (552, -24) projected
  line L17 (588, -36) -> (588, -24) projected
  line L18 (636, -36) -> (588, -36) projected
  line L19 (636, 0) -> (636, -36) projected
  line L20 (624, 0) -> (636, 0) projected
  line L21 (624, 36) -> (624, 0) projected
  line L22 (636, 36) -> (624, 36) projected
  line L23 (636, 72) -> (636, 36) projected
  line L24 (624, 72) -> (636, 72) projected
  line L25 (624, 108) -> (624, 72) projected
  line L26 (636, 108) -> (624, 108) projected
  line L27 (636, 144) -> (636, 108) projected
  line L28 (624, 144) -> (636, 144) projected
  line L29 (624, 152) -> (624, 144) projected
  line L30 (588, 152) -> (624, 152) projected
  line L31 (588, 164) -> (588, 152) projected
  line L32 (552, 164) -> (588, 164) projected
  line L33 (552, 152) -> (552, 164) projected
  line L34 (516, 152) -> (552, 152) projected
  line L35 (516, 164) -> (516, 152) projected
  line L36 (480, 164) -> (516, 164) projected
  line L37 (480, 152) -> (480, 164) projected
  line L38 (444, 152) -> (480, 152) projected
  line L39 (444, 164) -> (444, 152) projected
  line L40 (408, 164) -> (444, 164) projected
  line L41 (408, 152) -> (408, 164) projected
  line L42 (372, 152) -> (408, 152) projected
  line L43 (372, 164) -> (372, 152) projected
  line L44 (336, 164) -> (372, 164) projected
  line L45 (336, 152) -> (336, 164) projected
  line L46 (300, 152) -> (336, 152) projected
  line L47 (300, 164) -> (300, 152) projected
  line L48 (264, 164) -> (300, 164) projected
  line L49 (264, 152) -> (264, 164) projected
  line L50 (228, 152) -> (264, 152) projected
  line L51 (228, 164) -> (228, 152) projected
  line L52 (192, 164) -> (228, 164) projected
  line L53 (192, 152) -> (192, 164) projected
  line L54 (156, 152) -> (192, 152) projected
  line L55 (156, 164) -> (156, 152) projected
  line L56 (120, 164) -> (156, 164) projected
  line L57 (120, 152) -> (120, 164) projected
  line L58 (84, 152) -> (120, 152) projected
  line L59 (84, 164) -> (84, 152) projected
  line L60 (48, 164) -> (84, 164) projected
  line L61 (48, 152) -> (48, 164) projected
  line L62 (12, 152) -> (48, 152) projected
  line L63 (12, 144) -> (12, 152) projected
  line L64 (0, 144) -> (12, 144) projected
  line L65 (0, 108) -> (0, 144) projected
  line L66 (12, 108) -> (0, 108) projected
  line L67 (12, 72) -> (12, 108) projected
  line L68 (0, 72) -> (12, 72) projected
  line L69 (0, 36) -> (0, 72) projected
  line L70 (12, 36) -> (0, 36) projected
  line L71 (12, 0) -> (12, 36) projected
  line L72 (0, 0) -> (12, 0) projected
  line L73 (0, -36) -> (0, 0) projected
  line L74 (48, -36) -> (0, -36) projected
  line L75 (48, -24) -> (48, -36) projected
  line L76 (84, -24) -> (48, -24) projected
  line L77 (84, -36) -> (84, -24) projected
  line L78 (120, -36) -> (84, -36) projected
  line L79 (120, -24) -> (120, -36) projected
  line L80 (156, -24) -> (120, -24) projected
  line L81 (156, -36) -> (156, -24) projected
  circle A2 centre (368, 114) radius 2.5 projected
  circle A3 centre (168, 114) radius 2.5 projected
  circle A4 centre (468, 14) radius 2.5 projected
  circle A5 centre (268, 14) radius 2.5 projected
  circle A6 centre (168, 14) radius 2.5 projected
  circle A7 centre (418, 64) radius 2.5 projected
  circle A8 centre (518, 64) radius 2.5 projected
  circle A9 centre (118, 64) radius 2.5 projected
  circle A10 centre (218, 64) radius 2.5 projected
  circle A11 centre (318, 64) radius 2.5 projected
  circle A12 centre (368, 14) radius 2.5 projected
  circle A13 centre (268, 114) radius 2.5 projected
  circle A14 centre (468, 114) radius 2.5 projected
  point P0 (0, 363.0004)
equation "\"d4\" = 17 * d7"
equation "\"d7\" = 3 * d6"
equation "\"d10\" = d7"
equation "\"d31\" = d24"
equation "\"d32\" = 0.5 * d31"
equation "\"d33\" = d32"
properties part number "wooden_top"
